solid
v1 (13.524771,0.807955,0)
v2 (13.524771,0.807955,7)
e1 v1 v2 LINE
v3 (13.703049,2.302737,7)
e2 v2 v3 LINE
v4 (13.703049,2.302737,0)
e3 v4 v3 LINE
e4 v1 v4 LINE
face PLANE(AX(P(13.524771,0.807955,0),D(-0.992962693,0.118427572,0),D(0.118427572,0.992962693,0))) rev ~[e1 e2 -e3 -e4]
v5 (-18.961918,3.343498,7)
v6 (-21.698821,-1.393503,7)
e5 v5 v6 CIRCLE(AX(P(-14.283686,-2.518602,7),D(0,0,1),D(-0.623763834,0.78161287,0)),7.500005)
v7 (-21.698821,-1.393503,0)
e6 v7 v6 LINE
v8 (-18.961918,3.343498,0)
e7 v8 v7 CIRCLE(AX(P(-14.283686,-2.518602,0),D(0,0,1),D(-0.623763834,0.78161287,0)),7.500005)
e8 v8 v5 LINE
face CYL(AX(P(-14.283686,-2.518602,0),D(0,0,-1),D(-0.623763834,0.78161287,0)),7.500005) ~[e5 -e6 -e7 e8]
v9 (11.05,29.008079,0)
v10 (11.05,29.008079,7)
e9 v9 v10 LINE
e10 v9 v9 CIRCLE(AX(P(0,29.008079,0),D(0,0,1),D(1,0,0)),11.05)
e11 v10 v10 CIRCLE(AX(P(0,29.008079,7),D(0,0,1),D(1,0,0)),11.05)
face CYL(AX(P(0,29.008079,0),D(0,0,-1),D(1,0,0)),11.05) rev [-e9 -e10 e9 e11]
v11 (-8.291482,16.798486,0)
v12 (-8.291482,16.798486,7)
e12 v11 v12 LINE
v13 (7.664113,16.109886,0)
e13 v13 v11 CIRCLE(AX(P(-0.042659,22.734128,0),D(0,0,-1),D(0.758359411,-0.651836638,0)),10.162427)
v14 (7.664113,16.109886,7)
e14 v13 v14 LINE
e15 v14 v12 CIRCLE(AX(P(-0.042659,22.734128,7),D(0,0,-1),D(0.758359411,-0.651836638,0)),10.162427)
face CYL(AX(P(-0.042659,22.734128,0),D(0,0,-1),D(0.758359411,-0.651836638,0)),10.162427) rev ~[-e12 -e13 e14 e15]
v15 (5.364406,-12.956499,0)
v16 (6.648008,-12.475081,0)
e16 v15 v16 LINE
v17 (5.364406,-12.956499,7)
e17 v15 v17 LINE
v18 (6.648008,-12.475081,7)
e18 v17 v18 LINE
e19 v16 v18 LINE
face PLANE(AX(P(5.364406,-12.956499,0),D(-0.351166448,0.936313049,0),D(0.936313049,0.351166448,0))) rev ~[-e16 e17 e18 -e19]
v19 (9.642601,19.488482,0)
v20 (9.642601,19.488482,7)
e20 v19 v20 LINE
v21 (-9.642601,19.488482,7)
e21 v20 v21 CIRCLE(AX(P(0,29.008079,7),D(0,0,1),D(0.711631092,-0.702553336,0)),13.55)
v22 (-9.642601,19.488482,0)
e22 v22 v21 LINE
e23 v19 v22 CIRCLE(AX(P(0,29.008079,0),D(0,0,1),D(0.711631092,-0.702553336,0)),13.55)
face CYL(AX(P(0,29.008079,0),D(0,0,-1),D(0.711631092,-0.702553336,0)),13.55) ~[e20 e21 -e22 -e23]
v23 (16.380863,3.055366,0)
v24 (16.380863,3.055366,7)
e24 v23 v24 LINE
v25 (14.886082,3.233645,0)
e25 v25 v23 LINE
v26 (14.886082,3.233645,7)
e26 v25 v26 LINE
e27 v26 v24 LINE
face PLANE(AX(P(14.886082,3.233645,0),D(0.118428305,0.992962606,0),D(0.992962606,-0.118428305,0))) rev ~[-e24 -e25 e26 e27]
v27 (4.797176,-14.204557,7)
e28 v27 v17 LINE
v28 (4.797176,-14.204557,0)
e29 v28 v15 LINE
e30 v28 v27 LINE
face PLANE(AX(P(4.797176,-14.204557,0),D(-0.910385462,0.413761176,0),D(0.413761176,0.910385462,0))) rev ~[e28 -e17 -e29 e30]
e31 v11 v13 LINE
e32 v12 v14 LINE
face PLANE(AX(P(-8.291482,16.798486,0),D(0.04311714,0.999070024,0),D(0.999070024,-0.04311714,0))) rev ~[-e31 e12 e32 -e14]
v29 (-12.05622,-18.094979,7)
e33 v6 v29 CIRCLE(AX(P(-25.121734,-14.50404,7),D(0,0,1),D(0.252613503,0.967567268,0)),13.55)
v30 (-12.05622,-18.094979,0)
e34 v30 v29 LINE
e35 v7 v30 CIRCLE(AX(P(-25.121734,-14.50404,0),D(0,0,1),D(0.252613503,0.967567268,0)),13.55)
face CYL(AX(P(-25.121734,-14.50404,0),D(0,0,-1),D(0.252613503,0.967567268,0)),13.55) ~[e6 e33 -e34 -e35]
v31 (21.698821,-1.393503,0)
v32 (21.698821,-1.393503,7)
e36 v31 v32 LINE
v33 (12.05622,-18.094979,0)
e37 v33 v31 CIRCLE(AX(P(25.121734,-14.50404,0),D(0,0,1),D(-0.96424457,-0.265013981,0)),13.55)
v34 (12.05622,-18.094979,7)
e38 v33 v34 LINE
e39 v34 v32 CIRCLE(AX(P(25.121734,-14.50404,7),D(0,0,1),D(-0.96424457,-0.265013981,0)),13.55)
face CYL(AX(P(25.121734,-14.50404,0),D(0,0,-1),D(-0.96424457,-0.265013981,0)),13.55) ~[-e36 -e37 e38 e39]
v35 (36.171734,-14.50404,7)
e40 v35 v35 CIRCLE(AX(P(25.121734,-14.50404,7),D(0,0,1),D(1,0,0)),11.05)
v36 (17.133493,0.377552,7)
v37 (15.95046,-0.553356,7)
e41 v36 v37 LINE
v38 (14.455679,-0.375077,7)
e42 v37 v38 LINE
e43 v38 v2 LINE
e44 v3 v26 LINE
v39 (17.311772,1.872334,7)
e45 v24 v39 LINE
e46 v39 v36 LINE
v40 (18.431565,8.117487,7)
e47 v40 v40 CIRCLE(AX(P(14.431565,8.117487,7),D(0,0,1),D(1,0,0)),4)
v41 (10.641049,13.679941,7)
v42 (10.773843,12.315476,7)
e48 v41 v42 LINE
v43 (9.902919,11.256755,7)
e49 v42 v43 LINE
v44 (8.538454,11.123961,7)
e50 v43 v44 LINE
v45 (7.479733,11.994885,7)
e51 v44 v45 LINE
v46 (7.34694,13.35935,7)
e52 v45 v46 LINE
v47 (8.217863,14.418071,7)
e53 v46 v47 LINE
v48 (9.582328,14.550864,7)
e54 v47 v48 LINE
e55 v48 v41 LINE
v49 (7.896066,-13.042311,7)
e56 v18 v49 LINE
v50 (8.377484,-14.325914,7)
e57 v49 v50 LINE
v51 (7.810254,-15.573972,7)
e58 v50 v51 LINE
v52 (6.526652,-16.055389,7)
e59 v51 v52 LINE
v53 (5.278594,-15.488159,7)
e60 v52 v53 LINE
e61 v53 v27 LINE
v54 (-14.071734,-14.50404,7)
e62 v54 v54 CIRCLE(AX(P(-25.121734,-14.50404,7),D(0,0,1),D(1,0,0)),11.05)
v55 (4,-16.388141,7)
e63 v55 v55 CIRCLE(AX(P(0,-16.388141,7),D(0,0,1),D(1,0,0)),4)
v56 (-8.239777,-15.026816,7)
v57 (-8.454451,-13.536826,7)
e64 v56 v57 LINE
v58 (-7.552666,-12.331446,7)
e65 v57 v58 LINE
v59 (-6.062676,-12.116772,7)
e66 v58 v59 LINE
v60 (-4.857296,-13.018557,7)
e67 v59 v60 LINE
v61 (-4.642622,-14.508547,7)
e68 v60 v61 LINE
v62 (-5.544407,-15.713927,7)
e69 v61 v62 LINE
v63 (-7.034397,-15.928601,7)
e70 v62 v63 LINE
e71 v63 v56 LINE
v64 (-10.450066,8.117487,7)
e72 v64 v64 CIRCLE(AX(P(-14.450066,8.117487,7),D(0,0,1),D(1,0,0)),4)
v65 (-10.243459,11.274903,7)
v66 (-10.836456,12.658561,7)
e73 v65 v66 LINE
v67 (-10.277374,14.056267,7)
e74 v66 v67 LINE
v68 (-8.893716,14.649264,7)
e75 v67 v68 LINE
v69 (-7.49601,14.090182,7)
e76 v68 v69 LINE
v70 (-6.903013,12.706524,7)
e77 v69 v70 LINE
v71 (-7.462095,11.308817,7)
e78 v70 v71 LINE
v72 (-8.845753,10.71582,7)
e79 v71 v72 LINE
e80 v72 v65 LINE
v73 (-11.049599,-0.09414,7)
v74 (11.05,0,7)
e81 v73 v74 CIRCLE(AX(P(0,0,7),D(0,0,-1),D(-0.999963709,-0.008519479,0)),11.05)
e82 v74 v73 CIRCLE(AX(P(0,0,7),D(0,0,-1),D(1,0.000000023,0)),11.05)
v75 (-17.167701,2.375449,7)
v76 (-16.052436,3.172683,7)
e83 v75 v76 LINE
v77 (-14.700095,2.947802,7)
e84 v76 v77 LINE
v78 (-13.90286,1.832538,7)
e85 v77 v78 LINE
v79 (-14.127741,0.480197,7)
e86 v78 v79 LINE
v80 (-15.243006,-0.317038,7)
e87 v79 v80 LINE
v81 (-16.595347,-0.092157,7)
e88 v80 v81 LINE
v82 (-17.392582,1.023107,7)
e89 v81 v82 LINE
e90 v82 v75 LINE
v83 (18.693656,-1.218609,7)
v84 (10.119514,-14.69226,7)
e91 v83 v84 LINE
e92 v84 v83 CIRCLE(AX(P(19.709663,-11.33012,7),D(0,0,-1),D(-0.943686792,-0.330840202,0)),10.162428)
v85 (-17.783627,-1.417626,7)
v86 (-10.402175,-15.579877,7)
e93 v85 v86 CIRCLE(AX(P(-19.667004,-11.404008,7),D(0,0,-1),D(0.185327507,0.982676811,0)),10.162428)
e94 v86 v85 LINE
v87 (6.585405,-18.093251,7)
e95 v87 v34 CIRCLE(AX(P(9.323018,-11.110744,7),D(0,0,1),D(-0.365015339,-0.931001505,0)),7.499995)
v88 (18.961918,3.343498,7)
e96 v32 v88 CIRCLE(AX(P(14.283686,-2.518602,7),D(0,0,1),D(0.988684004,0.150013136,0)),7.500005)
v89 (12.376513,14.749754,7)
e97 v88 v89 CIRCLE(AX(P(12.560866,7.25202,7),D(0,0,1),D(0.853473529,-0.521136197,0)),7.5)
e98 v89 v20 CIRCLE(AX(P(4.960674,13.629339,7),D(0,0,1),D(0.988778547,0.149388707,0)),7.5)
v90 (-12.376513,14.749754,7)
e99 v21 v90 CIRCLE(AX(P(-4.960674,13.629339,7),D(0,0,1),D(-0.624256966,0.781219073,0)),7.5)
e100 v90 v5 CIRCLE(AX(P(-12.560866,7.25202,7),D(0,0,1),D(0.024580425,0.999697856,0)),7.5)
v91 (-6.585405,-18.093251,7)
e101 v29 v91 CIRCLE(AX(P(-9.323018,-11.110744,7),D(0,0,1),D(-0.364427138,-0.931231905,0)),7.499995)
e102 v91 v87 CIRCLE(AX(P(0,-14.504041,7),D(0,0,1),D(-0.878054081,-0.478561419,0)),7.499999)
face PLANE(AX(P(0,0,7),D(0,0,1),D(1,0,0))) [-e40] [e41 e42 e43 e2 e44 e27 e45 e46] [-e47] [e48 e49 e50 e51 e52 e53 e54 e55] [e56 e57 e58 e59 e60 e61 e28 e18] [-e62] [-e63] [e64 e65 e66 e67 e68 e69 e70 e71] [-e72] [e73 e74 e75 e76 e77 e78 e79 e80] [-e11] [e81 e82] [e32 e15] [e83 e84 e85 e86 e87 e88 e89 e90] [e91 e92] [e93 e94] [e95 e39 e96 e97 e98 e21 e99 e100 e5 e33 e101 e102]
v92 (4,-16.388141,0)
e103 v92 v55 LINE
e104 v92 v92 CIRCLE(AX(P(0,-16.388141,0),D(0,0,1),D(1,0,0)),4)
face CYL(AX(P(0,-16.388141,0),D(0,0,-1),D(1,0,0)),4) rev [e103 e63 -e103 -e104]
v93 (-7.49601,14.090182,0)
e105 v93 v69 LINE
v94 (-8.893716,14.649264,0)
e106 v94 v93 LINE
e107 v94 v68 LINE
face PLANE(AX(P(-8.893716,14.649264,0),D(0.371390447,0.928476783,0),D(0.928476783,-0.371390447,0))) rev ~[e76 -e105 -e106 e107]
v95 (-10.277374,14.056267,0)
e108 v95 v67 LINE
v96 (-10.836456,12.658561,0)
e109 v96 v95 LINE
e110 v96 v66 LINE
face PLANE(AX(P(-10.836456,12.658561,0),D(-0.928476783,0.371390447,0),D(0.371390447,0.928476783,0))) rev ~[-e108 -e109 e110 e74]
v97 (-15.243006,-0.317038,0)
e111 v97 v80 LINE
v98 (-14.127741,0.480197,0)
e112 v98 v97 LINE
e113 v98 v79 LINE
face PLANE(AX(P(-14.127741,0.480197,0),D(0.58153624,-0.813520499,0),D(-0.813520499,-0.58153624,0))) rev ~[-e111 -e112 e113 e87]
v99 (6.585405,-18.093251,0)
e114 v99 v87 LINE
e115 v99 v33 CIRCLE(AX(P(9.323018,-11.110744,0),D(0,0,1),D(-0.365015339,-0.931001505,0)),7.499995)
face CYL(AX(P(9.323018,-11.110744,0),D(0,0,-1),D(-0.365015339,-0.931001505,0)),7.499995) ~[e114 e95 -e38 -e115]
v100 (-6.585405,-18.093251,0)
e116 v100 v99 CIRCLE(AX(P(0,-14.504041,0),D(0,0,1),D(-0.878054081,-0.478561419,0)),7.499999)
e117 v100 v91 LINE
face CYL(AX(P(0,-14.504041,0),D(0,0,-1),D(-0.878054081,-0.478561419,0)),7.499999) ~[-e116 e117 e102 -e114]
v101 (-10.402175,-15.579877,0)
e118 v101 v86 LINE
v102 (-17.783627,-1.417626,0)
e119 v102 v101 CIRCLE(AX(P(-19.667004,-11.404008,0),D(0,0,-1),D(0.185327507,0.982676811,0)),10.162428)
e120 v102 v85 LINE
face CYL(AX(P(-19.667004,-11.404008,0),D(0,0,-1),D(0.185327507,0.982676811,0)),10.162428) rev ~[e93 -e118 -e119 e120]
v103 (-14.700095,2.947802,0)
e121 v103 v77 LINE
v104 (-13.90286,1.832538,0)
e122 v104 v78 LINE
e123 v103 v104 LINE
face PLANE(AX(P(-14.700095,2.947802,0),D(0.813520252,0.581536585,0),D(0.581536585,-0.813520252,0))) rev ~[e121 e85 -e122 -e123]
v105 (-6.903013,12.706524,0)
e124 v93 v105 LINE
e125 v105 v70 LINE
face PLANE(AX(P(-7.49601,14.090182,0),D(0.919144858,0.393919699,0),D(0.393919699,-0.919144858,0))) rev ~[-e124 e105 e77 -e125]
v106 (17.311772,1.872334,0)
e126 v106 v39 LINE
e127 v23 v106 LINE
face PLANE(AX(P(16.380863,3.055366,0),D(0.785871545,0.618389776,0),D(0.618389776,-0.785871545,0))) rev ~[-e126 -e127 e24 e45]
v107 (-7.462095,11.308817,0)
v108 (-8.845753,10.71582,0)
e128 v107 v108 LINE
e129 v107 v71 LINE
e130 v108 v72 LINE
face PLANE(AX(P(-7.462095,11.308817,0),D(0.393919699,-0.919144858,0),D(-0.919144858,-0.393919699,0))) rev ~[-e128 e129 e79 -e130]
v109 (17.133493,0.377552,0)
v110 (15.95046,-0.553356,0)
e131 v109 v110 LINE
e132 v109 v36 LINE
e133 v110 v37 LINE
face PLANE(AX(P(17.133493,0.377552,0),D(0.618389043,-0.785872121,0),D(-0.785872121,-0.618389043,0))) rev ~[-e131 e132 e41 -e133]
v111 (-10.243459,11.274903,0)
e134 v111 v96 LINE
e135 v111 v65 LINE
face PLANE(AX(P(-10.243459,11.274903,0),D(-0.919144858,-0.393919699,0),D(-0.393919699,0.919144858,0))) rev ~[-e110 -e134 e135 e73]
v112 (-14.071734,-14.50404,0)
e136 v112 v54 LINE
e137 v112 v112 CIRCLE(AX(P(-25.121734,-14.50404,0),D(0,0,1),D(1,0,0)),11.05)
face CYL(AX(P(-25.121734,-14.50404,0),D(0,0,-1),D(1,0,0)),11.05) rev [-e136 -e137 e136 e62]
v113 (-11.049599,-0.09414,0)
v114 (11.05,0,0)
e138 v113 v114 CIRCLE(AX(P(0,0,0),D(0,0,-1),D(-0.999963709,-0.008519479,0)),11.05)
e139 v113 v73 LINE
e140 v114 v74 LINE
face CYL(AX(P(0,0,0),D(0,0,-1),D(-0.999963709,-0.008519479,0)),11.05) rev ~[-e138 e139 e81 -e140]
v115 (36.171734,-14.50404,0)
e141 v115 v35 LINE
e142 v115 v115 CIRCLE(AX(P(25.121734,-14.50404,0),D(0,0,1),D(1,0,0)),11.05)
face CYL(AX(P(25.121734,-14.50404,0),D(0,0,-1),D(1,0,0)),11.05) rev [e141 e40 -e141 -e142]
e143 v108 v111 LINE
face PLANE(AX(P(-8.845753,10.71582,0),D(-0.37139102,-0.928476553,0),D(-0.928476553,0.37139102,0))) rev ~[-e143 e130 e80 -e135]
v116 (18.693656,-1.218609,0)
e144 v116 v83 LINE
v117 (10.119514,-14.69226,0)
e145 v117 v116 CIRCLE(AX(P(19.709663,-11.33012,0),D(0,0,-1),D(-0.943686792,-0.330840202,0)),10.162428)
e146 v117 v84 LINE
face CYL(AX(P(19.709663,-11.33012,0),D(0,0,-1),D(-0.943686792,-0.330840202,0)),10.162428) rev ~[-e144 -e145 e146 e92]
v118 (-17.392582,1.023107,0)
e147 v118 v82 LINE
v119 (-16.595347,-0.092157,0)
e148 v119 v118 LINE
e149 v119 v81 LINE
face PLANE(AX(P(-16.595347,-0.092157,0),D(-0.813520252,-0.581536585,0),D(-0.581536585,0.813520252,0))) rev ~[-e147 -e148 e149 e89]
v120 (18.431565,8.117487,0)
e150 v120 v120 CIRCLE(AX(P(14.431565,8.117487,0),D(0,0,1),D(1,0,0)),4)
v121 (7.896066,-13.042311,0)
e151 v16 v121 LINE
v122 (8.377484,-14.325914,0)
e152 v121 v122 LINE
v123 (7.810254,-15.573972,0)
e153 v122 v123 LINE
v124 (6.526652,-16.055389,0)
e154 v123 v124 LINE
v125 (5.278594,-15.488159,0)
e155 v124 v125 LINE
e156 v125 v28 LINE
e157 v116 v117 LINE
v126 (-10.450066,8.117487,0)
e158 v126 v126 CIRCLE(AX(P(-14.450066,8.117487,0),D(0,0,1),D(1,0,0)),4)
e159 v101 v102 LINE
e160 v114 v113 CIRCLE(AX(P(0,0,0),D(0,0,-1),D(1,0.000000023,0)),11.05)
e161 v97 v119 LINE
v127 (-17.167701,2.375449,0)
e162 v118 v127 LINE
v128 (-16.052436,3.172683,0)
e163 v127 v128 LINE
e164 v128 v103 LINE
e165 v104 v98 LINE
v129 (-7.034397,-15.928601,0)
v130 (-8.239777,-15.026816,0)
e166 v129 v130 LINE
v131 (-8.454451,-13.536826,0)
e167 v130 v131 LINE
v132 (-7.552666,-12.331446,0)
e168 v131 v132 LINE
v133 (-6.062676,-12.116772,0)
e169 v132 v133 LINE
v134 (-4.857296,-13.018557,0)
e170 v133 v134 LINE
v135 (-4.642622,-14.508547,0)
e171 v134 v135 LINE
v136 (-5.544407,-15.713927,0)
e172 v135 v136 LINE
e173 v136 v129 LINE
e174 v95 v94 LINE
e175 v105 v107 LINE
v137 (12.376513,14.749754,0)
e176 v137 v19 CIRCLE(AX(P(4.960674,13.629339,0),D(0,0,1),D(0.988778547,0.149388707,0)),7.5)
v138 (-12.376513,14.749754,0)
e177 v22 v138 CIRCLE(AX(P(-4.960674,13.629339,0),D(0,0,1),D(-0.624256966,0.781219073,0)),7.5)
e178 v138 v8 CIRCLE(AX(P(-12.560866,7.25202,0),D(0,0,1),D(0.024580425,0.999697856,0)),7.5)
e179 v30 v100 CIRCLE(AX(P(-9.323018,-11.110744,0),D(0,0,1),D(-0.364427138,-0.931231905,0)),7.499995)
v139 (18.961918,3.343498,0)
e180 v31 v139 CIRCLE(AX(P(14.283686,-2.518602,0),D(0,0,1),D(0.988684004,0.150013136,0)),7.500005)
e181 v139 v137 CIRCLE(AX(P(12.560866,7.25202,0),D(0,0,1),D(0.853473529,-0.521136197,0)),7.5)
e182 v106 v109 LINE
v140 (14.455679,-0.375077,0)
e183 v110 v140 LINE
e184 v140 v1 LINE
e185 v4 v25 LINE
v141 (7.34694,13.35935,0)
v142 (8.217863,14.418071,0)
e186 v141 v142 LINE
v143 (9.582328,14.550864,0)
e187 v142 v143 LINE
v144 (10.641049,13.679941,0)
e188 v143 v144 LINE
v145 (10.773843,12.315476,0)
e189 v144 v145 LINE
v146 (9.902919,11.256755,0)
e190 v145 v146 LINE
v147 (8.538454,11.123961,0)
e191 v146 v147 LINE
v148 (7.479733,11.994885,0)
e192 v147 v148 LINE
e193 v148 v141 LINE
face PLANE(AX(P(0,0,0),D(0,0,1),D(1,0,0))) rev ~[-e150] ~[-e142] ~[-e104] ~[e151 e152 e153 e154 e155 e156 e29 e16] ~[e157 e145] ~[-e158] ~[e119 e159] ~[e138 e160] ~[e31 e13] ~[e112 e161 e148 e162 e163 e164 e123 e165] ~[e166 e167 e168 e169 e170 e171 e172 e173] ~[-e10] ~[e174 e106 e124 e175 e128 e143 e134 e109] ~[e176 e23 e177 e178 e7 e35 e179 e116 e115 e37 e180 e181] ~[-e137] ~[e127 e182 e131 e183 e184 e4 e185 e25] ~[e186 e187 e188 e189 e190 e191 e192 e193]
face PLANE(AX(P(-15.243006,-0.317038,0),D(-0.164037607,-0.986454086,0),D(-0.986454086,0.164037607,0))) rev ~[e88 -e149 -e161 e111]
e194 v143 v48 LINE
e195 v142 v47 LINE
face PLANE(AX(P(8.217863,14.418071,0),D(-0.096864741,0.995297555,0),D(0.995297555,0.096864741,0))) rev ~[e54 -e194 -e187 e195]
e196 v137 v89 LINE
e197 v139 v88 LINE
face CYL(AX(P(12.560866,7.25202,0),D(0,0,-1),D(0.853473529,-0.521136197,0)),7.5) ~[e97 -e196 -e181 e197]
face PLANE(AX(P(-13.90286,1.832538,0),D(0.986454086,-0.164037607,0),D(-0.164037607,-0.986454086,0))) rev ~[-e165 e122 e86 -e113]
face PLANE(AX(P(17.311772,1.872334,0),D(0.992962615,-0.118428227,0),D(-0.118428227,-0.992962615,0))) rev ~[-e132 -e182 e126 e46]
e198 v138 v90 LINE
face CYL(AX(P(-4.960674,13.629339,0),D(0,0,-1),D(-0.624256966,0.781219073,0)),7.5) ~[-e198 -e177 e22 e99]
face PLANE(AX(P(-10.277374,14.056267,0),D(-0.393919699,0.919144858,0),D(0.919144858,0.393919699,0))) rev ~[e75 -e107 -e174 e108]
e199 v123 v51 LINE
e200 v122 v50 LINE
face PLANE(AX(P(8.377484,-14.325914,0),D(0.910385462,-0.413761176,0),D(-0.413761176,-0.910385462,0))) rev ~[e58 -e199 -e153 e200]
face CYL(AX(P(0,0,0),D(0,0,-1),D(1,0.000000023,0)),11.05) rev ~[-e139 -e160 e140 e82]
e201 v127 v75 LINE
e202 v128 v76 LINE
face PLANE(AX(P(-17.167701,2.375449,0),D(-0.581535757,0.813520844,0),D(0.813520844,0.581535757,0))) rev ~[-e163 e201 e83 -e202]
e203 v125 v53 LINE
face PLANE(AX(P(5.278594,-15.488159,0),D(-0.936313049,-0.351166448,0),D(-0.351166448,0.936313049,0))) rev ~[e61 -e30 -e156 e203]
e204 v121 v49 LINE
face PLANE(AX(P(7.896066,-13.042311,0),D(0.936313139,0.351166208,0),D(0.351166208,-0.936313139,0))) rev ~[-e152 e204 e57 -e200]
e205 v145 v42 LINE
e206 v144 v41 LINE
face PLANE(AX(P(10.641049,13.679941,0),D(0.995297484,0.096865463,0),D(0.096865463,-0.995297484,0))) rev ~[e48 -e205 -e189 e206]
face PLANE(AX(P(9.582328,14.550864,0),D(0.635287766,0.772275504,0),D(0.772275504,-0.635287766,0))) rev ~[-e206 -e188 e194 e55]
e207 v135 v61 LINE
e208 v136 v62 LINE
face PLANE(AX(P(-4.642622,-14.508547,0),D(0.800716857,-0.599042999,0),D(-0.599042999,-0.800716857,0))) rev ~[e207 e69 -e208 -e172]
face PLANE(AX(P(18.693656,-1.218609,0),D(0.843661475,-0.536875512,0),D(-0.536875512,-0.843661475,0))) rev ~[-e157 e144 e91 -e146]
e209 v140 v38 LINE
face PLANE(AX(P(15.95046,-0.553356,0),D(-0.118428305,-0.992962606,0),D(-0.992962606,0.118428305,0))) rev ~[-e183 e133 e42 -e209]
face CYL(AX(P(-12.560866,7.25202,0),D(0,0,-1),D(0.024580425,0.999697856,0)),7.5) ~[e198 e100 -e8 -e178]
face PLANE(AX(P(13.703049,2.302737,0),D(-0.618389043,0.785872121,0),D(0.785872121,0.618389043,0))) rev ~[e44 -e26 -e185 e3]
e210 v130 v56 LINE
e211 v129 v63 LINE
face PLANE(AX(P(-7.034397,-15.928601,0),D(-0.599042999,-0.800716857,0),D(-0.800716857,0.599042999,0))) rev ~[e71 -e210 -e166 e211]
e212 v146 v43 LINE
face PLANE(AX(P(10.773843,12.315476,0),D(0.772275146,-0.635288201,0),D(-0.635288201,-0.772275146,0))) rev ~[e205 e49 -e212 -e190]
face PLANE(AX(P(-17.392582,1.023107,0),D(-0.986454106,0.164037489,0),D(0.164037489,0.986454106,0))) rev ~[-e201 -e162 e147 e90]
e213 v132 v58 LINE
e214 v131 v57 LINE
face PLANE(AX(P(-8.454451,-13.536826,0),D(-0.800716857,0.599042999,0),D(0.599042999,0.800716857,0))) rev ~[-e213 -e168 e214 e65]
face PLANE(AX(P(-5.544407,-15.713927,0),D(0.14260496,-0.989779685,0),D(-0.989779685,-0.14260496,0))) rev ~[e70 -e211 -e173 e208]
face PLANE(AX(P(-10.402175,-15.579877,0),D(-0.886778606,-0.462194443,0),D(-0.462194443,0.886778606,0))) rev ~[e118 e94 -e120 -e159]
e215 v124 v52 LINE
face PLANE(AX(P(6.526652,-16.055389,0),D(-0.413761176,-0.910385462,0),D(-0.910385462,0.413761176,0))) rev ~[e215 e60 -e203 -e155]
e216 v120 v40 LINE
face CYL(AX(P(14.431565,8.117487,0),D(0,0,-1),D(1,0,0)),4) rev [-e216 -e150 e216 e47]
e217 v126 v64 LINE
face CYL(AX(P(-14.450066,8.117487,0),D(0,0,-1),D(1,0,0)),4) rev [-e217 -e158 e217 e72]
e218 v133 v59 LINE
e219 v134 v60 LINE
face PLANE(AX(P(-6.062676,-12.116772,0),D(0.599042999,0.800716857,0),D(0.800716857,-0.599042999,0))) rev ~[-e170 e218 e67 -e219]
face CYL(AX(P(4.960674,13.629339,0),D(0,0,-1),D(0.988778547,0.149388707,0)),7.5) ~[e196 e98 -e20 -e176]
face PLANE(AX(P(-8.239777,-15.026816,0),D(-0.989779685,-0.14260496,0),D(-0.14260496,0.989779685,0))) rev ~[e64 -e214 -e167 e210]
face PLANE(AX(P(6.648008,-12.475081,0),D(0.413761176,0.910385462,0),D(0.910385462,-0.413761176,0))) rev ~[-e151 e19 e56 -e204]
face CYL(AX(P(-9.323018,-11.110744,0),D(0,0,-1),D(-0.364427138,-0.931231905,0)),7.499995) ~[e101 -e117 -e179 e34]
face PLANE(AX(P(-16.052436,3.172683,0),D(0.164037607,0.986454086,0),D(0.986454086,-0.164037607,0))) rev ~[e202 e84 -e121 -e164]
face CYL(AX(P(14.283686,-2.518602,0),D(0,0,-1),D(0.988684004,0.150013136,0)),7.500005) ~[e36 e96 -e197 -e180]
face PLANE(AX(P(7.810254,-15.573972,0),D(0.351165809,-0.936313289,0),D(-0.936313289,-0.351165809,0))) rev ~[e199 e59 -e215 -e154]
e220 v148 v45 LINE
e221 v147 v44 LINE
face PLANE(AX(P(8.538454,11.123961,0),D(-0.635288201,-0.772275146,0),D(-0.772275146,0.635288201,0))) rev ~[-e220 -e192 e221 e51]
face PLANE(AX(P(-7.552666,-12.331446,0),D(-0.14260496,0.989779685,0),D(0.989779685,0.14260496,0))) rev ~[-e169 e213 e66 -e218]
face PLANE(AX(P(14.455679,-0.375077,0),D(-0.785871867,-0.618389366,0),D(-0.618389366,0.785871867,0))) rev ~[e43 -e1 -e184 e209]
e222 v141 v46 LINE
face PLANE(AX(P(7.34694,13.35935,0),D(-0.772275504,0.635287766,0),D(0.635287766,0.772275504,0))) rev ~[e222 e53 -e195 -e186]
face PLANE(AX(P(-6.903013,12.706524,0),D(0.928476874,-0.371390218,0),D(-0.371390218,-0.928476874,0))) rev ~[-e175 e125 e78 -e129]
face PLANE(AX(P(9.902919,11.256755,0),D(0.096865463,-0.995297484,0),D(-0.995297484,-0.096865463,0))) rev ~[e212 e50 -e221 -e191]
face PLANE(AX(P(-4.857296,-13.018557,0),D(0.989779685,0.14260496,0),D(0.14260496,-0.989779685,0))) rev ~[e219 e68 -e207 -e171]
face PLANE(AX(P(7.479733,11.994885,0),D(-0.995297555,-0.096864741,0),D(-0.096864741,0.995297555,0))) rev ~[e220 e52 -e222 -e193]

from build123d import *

# Parameters (mm, degrees)
F0_R     = 11.05
F0_R_2   = 4
F1_DEPTH = 7


with BuildPart() as f1:
    # F0 (on Top) → F1 (new body)
    with BuildSketch(Plane.XY):
        with BuildLine():
            ThreePointArc((-18.961918, 3.343498), (-20.777697, 1.23345), (-21.698821, -1.393503))
            ThreePointArc((-21.698821, -1.393503), (-36.856378, -21.27904), (-12.05622, -18.094979))
            ThreePointArc((-12.05622, -18.094979), (-9.320649, -18.610739), (-6.585405, -18.093251))
            ThreePointArc((-6.585405, -18.093251), (0, -22.00404), (6.585405, -18.093251))
            ThreePointArc((6.585405, -18.093251), (9.320649, -18.610739), (12.05622, -18.094979))
            ThreePointArc((12.05622, -18.094979), (36.856378, -21.27904), (21.698821, -1.393503))
            ThreePointArc((21.698821, -1.393503), (20.777697, 1.23345), (18.961918, 3.343498))
            ThreePointArc((18.961918, 3.343498), (19.056057, 11.00202), (12.376513, 14.749754))
            ThreePointArc((12.376513, 14.749754), (11.457048, 17.377288), (9.642601, 19.488482))
            ThreePointArc((9.642601, 19.488482), (0, 42.558079), (-9.642601, 19.488482))
            ThreePointArc((-9.642601, 19.488482), (-11.457048, 17.377288), (-12.376513, 14.749754))
            ThreePointArc((-12.376513, 14.749754), (-19.056057, 11.00202), (-18.961918, 3.343498))
        make_face()
        with Locations((-25.121734, -14.50404)):
            Circle(F0_R, mode=Mode.SUBTRACT)
        Polygon((-8.239777, -15.026816), (-8.454451, -13.536826), (-7.552666, -12.331446), (-6.062676, -12.116772), (-4.857296, -13.018557), (-4.642622, -14.508547), (-5.544407, -15.713927), (-7.034397, -15.928601), align=None, mode=Mode.SUBTRACT)
        with BuildLine():
            ThreePointArc((-17.783627, -1.417626), (-10.655181, -6.70699), (-10.402175, -15.579877))
            Line((-10.402175, -15.579877), (-17.783627, -1.417626))
        make_face(mode=Mode.SUBTRACT)
        Polygon((-15.243006, -0.317038), (-16.595347, -0.092157), (-17.392582, 1.023107), (-17.167701, 2.375449), (-16.052436, 3.172683), (-14.700095, 2.947802), (-13.90286, 1.832538), (-14.127741, 0.480197), align=None, mode=Mode.SUBTRACT)
        with Locations((0, -16.388141)):
            Circle(F0_R_2, mode=Mode.SUBTRACT)
        Polygon((7.896066, -13.042311), (8.377484, -14.325914), (7.810254, -15.573972), (6.526652, -16.055389), (5.278594, -15.488159), (4.797176, -14.204557), (5.364406, -12.956499), (6.648008, -12.475081), align=None, mode=Mode.SUBTRACT)
        with Locations((25.121734, -14.50404)):
            Circle(F0_R, mode=Mode.SUBTRACT)
        with BuildLine():
            ThreePointArc((10.119514, -14.69226), (11.136014, -5.874162), (18.693656, -1.218609))
            Line((18.693656, -1.218609), (10.119514, -14.69226))
        make_face(mode=Mode.SUBTRACT)
        with BuildLine():
            ThreePointArc((-11.049599, -0.09414), (-0.047071, 11.0499), (11.05, 0))
            ThreePointArc((11.05, 0), (0.047071, -11.0499), (-11.049599, -0.09414))
        make_face(mode=Mode.SUBTRACT)
        Polygon((17.133493, 0.377552), (15.95046, -0.553356), (14.455679, -0.375077), (13.524771, 0.807955), (13.703049, 2.302737), (14.886082, 3.233645), (16.380863, 3.055366), (17.311772, 1.872334), align=None, mode=Mode.SUBTRACT)
        with Locations((-14.450066, 8.117487)):
            Circle(F0_R_2, mode=Mode.SUBTRACT)
        Polygon((-7.49601, 14.090182), (-6.903013, 12.706524), (-7.462095, 11.308817), (-8.845753, 10.71582), (-10.243459, 11.274903), (-10.836456, 12.658561), (-10.277374, 14.056267), (-8.893716, 14.649264), align=None, mode=Mode.SUBTRACT)
        with BuildLine():
            ThreePointArc((7.664113, 16.109886), (-0.480834, 12.581152), (-8.291482, 16.798486))
            Line((-8.291482, 16.798486), (7.664113, 16.109886))
        make_face(mode=Mode.SUBTRACT)
        Polygon((10.641049, 13.679941), (10.773843, 12.315476), (9.902919, 11.256755), (8.538454, 11.123961), (7.479733, 11.994885), (7.34694, 13.35935), (8.217863, 14.418071), (9.582328, 14.550864), align=None, mode=Mode.SUBTRACT)
        with Locations((14.431565, 8.117487)):
            Circle(F0_R_2, mode=Mode.SUBTRACT)
        with Locations((0, 29.008079)):
            Circle(F0_R, mode=Mode.SUBTRACT)
    extrude(amount=F1_DEPTH)


solid = f1.part
